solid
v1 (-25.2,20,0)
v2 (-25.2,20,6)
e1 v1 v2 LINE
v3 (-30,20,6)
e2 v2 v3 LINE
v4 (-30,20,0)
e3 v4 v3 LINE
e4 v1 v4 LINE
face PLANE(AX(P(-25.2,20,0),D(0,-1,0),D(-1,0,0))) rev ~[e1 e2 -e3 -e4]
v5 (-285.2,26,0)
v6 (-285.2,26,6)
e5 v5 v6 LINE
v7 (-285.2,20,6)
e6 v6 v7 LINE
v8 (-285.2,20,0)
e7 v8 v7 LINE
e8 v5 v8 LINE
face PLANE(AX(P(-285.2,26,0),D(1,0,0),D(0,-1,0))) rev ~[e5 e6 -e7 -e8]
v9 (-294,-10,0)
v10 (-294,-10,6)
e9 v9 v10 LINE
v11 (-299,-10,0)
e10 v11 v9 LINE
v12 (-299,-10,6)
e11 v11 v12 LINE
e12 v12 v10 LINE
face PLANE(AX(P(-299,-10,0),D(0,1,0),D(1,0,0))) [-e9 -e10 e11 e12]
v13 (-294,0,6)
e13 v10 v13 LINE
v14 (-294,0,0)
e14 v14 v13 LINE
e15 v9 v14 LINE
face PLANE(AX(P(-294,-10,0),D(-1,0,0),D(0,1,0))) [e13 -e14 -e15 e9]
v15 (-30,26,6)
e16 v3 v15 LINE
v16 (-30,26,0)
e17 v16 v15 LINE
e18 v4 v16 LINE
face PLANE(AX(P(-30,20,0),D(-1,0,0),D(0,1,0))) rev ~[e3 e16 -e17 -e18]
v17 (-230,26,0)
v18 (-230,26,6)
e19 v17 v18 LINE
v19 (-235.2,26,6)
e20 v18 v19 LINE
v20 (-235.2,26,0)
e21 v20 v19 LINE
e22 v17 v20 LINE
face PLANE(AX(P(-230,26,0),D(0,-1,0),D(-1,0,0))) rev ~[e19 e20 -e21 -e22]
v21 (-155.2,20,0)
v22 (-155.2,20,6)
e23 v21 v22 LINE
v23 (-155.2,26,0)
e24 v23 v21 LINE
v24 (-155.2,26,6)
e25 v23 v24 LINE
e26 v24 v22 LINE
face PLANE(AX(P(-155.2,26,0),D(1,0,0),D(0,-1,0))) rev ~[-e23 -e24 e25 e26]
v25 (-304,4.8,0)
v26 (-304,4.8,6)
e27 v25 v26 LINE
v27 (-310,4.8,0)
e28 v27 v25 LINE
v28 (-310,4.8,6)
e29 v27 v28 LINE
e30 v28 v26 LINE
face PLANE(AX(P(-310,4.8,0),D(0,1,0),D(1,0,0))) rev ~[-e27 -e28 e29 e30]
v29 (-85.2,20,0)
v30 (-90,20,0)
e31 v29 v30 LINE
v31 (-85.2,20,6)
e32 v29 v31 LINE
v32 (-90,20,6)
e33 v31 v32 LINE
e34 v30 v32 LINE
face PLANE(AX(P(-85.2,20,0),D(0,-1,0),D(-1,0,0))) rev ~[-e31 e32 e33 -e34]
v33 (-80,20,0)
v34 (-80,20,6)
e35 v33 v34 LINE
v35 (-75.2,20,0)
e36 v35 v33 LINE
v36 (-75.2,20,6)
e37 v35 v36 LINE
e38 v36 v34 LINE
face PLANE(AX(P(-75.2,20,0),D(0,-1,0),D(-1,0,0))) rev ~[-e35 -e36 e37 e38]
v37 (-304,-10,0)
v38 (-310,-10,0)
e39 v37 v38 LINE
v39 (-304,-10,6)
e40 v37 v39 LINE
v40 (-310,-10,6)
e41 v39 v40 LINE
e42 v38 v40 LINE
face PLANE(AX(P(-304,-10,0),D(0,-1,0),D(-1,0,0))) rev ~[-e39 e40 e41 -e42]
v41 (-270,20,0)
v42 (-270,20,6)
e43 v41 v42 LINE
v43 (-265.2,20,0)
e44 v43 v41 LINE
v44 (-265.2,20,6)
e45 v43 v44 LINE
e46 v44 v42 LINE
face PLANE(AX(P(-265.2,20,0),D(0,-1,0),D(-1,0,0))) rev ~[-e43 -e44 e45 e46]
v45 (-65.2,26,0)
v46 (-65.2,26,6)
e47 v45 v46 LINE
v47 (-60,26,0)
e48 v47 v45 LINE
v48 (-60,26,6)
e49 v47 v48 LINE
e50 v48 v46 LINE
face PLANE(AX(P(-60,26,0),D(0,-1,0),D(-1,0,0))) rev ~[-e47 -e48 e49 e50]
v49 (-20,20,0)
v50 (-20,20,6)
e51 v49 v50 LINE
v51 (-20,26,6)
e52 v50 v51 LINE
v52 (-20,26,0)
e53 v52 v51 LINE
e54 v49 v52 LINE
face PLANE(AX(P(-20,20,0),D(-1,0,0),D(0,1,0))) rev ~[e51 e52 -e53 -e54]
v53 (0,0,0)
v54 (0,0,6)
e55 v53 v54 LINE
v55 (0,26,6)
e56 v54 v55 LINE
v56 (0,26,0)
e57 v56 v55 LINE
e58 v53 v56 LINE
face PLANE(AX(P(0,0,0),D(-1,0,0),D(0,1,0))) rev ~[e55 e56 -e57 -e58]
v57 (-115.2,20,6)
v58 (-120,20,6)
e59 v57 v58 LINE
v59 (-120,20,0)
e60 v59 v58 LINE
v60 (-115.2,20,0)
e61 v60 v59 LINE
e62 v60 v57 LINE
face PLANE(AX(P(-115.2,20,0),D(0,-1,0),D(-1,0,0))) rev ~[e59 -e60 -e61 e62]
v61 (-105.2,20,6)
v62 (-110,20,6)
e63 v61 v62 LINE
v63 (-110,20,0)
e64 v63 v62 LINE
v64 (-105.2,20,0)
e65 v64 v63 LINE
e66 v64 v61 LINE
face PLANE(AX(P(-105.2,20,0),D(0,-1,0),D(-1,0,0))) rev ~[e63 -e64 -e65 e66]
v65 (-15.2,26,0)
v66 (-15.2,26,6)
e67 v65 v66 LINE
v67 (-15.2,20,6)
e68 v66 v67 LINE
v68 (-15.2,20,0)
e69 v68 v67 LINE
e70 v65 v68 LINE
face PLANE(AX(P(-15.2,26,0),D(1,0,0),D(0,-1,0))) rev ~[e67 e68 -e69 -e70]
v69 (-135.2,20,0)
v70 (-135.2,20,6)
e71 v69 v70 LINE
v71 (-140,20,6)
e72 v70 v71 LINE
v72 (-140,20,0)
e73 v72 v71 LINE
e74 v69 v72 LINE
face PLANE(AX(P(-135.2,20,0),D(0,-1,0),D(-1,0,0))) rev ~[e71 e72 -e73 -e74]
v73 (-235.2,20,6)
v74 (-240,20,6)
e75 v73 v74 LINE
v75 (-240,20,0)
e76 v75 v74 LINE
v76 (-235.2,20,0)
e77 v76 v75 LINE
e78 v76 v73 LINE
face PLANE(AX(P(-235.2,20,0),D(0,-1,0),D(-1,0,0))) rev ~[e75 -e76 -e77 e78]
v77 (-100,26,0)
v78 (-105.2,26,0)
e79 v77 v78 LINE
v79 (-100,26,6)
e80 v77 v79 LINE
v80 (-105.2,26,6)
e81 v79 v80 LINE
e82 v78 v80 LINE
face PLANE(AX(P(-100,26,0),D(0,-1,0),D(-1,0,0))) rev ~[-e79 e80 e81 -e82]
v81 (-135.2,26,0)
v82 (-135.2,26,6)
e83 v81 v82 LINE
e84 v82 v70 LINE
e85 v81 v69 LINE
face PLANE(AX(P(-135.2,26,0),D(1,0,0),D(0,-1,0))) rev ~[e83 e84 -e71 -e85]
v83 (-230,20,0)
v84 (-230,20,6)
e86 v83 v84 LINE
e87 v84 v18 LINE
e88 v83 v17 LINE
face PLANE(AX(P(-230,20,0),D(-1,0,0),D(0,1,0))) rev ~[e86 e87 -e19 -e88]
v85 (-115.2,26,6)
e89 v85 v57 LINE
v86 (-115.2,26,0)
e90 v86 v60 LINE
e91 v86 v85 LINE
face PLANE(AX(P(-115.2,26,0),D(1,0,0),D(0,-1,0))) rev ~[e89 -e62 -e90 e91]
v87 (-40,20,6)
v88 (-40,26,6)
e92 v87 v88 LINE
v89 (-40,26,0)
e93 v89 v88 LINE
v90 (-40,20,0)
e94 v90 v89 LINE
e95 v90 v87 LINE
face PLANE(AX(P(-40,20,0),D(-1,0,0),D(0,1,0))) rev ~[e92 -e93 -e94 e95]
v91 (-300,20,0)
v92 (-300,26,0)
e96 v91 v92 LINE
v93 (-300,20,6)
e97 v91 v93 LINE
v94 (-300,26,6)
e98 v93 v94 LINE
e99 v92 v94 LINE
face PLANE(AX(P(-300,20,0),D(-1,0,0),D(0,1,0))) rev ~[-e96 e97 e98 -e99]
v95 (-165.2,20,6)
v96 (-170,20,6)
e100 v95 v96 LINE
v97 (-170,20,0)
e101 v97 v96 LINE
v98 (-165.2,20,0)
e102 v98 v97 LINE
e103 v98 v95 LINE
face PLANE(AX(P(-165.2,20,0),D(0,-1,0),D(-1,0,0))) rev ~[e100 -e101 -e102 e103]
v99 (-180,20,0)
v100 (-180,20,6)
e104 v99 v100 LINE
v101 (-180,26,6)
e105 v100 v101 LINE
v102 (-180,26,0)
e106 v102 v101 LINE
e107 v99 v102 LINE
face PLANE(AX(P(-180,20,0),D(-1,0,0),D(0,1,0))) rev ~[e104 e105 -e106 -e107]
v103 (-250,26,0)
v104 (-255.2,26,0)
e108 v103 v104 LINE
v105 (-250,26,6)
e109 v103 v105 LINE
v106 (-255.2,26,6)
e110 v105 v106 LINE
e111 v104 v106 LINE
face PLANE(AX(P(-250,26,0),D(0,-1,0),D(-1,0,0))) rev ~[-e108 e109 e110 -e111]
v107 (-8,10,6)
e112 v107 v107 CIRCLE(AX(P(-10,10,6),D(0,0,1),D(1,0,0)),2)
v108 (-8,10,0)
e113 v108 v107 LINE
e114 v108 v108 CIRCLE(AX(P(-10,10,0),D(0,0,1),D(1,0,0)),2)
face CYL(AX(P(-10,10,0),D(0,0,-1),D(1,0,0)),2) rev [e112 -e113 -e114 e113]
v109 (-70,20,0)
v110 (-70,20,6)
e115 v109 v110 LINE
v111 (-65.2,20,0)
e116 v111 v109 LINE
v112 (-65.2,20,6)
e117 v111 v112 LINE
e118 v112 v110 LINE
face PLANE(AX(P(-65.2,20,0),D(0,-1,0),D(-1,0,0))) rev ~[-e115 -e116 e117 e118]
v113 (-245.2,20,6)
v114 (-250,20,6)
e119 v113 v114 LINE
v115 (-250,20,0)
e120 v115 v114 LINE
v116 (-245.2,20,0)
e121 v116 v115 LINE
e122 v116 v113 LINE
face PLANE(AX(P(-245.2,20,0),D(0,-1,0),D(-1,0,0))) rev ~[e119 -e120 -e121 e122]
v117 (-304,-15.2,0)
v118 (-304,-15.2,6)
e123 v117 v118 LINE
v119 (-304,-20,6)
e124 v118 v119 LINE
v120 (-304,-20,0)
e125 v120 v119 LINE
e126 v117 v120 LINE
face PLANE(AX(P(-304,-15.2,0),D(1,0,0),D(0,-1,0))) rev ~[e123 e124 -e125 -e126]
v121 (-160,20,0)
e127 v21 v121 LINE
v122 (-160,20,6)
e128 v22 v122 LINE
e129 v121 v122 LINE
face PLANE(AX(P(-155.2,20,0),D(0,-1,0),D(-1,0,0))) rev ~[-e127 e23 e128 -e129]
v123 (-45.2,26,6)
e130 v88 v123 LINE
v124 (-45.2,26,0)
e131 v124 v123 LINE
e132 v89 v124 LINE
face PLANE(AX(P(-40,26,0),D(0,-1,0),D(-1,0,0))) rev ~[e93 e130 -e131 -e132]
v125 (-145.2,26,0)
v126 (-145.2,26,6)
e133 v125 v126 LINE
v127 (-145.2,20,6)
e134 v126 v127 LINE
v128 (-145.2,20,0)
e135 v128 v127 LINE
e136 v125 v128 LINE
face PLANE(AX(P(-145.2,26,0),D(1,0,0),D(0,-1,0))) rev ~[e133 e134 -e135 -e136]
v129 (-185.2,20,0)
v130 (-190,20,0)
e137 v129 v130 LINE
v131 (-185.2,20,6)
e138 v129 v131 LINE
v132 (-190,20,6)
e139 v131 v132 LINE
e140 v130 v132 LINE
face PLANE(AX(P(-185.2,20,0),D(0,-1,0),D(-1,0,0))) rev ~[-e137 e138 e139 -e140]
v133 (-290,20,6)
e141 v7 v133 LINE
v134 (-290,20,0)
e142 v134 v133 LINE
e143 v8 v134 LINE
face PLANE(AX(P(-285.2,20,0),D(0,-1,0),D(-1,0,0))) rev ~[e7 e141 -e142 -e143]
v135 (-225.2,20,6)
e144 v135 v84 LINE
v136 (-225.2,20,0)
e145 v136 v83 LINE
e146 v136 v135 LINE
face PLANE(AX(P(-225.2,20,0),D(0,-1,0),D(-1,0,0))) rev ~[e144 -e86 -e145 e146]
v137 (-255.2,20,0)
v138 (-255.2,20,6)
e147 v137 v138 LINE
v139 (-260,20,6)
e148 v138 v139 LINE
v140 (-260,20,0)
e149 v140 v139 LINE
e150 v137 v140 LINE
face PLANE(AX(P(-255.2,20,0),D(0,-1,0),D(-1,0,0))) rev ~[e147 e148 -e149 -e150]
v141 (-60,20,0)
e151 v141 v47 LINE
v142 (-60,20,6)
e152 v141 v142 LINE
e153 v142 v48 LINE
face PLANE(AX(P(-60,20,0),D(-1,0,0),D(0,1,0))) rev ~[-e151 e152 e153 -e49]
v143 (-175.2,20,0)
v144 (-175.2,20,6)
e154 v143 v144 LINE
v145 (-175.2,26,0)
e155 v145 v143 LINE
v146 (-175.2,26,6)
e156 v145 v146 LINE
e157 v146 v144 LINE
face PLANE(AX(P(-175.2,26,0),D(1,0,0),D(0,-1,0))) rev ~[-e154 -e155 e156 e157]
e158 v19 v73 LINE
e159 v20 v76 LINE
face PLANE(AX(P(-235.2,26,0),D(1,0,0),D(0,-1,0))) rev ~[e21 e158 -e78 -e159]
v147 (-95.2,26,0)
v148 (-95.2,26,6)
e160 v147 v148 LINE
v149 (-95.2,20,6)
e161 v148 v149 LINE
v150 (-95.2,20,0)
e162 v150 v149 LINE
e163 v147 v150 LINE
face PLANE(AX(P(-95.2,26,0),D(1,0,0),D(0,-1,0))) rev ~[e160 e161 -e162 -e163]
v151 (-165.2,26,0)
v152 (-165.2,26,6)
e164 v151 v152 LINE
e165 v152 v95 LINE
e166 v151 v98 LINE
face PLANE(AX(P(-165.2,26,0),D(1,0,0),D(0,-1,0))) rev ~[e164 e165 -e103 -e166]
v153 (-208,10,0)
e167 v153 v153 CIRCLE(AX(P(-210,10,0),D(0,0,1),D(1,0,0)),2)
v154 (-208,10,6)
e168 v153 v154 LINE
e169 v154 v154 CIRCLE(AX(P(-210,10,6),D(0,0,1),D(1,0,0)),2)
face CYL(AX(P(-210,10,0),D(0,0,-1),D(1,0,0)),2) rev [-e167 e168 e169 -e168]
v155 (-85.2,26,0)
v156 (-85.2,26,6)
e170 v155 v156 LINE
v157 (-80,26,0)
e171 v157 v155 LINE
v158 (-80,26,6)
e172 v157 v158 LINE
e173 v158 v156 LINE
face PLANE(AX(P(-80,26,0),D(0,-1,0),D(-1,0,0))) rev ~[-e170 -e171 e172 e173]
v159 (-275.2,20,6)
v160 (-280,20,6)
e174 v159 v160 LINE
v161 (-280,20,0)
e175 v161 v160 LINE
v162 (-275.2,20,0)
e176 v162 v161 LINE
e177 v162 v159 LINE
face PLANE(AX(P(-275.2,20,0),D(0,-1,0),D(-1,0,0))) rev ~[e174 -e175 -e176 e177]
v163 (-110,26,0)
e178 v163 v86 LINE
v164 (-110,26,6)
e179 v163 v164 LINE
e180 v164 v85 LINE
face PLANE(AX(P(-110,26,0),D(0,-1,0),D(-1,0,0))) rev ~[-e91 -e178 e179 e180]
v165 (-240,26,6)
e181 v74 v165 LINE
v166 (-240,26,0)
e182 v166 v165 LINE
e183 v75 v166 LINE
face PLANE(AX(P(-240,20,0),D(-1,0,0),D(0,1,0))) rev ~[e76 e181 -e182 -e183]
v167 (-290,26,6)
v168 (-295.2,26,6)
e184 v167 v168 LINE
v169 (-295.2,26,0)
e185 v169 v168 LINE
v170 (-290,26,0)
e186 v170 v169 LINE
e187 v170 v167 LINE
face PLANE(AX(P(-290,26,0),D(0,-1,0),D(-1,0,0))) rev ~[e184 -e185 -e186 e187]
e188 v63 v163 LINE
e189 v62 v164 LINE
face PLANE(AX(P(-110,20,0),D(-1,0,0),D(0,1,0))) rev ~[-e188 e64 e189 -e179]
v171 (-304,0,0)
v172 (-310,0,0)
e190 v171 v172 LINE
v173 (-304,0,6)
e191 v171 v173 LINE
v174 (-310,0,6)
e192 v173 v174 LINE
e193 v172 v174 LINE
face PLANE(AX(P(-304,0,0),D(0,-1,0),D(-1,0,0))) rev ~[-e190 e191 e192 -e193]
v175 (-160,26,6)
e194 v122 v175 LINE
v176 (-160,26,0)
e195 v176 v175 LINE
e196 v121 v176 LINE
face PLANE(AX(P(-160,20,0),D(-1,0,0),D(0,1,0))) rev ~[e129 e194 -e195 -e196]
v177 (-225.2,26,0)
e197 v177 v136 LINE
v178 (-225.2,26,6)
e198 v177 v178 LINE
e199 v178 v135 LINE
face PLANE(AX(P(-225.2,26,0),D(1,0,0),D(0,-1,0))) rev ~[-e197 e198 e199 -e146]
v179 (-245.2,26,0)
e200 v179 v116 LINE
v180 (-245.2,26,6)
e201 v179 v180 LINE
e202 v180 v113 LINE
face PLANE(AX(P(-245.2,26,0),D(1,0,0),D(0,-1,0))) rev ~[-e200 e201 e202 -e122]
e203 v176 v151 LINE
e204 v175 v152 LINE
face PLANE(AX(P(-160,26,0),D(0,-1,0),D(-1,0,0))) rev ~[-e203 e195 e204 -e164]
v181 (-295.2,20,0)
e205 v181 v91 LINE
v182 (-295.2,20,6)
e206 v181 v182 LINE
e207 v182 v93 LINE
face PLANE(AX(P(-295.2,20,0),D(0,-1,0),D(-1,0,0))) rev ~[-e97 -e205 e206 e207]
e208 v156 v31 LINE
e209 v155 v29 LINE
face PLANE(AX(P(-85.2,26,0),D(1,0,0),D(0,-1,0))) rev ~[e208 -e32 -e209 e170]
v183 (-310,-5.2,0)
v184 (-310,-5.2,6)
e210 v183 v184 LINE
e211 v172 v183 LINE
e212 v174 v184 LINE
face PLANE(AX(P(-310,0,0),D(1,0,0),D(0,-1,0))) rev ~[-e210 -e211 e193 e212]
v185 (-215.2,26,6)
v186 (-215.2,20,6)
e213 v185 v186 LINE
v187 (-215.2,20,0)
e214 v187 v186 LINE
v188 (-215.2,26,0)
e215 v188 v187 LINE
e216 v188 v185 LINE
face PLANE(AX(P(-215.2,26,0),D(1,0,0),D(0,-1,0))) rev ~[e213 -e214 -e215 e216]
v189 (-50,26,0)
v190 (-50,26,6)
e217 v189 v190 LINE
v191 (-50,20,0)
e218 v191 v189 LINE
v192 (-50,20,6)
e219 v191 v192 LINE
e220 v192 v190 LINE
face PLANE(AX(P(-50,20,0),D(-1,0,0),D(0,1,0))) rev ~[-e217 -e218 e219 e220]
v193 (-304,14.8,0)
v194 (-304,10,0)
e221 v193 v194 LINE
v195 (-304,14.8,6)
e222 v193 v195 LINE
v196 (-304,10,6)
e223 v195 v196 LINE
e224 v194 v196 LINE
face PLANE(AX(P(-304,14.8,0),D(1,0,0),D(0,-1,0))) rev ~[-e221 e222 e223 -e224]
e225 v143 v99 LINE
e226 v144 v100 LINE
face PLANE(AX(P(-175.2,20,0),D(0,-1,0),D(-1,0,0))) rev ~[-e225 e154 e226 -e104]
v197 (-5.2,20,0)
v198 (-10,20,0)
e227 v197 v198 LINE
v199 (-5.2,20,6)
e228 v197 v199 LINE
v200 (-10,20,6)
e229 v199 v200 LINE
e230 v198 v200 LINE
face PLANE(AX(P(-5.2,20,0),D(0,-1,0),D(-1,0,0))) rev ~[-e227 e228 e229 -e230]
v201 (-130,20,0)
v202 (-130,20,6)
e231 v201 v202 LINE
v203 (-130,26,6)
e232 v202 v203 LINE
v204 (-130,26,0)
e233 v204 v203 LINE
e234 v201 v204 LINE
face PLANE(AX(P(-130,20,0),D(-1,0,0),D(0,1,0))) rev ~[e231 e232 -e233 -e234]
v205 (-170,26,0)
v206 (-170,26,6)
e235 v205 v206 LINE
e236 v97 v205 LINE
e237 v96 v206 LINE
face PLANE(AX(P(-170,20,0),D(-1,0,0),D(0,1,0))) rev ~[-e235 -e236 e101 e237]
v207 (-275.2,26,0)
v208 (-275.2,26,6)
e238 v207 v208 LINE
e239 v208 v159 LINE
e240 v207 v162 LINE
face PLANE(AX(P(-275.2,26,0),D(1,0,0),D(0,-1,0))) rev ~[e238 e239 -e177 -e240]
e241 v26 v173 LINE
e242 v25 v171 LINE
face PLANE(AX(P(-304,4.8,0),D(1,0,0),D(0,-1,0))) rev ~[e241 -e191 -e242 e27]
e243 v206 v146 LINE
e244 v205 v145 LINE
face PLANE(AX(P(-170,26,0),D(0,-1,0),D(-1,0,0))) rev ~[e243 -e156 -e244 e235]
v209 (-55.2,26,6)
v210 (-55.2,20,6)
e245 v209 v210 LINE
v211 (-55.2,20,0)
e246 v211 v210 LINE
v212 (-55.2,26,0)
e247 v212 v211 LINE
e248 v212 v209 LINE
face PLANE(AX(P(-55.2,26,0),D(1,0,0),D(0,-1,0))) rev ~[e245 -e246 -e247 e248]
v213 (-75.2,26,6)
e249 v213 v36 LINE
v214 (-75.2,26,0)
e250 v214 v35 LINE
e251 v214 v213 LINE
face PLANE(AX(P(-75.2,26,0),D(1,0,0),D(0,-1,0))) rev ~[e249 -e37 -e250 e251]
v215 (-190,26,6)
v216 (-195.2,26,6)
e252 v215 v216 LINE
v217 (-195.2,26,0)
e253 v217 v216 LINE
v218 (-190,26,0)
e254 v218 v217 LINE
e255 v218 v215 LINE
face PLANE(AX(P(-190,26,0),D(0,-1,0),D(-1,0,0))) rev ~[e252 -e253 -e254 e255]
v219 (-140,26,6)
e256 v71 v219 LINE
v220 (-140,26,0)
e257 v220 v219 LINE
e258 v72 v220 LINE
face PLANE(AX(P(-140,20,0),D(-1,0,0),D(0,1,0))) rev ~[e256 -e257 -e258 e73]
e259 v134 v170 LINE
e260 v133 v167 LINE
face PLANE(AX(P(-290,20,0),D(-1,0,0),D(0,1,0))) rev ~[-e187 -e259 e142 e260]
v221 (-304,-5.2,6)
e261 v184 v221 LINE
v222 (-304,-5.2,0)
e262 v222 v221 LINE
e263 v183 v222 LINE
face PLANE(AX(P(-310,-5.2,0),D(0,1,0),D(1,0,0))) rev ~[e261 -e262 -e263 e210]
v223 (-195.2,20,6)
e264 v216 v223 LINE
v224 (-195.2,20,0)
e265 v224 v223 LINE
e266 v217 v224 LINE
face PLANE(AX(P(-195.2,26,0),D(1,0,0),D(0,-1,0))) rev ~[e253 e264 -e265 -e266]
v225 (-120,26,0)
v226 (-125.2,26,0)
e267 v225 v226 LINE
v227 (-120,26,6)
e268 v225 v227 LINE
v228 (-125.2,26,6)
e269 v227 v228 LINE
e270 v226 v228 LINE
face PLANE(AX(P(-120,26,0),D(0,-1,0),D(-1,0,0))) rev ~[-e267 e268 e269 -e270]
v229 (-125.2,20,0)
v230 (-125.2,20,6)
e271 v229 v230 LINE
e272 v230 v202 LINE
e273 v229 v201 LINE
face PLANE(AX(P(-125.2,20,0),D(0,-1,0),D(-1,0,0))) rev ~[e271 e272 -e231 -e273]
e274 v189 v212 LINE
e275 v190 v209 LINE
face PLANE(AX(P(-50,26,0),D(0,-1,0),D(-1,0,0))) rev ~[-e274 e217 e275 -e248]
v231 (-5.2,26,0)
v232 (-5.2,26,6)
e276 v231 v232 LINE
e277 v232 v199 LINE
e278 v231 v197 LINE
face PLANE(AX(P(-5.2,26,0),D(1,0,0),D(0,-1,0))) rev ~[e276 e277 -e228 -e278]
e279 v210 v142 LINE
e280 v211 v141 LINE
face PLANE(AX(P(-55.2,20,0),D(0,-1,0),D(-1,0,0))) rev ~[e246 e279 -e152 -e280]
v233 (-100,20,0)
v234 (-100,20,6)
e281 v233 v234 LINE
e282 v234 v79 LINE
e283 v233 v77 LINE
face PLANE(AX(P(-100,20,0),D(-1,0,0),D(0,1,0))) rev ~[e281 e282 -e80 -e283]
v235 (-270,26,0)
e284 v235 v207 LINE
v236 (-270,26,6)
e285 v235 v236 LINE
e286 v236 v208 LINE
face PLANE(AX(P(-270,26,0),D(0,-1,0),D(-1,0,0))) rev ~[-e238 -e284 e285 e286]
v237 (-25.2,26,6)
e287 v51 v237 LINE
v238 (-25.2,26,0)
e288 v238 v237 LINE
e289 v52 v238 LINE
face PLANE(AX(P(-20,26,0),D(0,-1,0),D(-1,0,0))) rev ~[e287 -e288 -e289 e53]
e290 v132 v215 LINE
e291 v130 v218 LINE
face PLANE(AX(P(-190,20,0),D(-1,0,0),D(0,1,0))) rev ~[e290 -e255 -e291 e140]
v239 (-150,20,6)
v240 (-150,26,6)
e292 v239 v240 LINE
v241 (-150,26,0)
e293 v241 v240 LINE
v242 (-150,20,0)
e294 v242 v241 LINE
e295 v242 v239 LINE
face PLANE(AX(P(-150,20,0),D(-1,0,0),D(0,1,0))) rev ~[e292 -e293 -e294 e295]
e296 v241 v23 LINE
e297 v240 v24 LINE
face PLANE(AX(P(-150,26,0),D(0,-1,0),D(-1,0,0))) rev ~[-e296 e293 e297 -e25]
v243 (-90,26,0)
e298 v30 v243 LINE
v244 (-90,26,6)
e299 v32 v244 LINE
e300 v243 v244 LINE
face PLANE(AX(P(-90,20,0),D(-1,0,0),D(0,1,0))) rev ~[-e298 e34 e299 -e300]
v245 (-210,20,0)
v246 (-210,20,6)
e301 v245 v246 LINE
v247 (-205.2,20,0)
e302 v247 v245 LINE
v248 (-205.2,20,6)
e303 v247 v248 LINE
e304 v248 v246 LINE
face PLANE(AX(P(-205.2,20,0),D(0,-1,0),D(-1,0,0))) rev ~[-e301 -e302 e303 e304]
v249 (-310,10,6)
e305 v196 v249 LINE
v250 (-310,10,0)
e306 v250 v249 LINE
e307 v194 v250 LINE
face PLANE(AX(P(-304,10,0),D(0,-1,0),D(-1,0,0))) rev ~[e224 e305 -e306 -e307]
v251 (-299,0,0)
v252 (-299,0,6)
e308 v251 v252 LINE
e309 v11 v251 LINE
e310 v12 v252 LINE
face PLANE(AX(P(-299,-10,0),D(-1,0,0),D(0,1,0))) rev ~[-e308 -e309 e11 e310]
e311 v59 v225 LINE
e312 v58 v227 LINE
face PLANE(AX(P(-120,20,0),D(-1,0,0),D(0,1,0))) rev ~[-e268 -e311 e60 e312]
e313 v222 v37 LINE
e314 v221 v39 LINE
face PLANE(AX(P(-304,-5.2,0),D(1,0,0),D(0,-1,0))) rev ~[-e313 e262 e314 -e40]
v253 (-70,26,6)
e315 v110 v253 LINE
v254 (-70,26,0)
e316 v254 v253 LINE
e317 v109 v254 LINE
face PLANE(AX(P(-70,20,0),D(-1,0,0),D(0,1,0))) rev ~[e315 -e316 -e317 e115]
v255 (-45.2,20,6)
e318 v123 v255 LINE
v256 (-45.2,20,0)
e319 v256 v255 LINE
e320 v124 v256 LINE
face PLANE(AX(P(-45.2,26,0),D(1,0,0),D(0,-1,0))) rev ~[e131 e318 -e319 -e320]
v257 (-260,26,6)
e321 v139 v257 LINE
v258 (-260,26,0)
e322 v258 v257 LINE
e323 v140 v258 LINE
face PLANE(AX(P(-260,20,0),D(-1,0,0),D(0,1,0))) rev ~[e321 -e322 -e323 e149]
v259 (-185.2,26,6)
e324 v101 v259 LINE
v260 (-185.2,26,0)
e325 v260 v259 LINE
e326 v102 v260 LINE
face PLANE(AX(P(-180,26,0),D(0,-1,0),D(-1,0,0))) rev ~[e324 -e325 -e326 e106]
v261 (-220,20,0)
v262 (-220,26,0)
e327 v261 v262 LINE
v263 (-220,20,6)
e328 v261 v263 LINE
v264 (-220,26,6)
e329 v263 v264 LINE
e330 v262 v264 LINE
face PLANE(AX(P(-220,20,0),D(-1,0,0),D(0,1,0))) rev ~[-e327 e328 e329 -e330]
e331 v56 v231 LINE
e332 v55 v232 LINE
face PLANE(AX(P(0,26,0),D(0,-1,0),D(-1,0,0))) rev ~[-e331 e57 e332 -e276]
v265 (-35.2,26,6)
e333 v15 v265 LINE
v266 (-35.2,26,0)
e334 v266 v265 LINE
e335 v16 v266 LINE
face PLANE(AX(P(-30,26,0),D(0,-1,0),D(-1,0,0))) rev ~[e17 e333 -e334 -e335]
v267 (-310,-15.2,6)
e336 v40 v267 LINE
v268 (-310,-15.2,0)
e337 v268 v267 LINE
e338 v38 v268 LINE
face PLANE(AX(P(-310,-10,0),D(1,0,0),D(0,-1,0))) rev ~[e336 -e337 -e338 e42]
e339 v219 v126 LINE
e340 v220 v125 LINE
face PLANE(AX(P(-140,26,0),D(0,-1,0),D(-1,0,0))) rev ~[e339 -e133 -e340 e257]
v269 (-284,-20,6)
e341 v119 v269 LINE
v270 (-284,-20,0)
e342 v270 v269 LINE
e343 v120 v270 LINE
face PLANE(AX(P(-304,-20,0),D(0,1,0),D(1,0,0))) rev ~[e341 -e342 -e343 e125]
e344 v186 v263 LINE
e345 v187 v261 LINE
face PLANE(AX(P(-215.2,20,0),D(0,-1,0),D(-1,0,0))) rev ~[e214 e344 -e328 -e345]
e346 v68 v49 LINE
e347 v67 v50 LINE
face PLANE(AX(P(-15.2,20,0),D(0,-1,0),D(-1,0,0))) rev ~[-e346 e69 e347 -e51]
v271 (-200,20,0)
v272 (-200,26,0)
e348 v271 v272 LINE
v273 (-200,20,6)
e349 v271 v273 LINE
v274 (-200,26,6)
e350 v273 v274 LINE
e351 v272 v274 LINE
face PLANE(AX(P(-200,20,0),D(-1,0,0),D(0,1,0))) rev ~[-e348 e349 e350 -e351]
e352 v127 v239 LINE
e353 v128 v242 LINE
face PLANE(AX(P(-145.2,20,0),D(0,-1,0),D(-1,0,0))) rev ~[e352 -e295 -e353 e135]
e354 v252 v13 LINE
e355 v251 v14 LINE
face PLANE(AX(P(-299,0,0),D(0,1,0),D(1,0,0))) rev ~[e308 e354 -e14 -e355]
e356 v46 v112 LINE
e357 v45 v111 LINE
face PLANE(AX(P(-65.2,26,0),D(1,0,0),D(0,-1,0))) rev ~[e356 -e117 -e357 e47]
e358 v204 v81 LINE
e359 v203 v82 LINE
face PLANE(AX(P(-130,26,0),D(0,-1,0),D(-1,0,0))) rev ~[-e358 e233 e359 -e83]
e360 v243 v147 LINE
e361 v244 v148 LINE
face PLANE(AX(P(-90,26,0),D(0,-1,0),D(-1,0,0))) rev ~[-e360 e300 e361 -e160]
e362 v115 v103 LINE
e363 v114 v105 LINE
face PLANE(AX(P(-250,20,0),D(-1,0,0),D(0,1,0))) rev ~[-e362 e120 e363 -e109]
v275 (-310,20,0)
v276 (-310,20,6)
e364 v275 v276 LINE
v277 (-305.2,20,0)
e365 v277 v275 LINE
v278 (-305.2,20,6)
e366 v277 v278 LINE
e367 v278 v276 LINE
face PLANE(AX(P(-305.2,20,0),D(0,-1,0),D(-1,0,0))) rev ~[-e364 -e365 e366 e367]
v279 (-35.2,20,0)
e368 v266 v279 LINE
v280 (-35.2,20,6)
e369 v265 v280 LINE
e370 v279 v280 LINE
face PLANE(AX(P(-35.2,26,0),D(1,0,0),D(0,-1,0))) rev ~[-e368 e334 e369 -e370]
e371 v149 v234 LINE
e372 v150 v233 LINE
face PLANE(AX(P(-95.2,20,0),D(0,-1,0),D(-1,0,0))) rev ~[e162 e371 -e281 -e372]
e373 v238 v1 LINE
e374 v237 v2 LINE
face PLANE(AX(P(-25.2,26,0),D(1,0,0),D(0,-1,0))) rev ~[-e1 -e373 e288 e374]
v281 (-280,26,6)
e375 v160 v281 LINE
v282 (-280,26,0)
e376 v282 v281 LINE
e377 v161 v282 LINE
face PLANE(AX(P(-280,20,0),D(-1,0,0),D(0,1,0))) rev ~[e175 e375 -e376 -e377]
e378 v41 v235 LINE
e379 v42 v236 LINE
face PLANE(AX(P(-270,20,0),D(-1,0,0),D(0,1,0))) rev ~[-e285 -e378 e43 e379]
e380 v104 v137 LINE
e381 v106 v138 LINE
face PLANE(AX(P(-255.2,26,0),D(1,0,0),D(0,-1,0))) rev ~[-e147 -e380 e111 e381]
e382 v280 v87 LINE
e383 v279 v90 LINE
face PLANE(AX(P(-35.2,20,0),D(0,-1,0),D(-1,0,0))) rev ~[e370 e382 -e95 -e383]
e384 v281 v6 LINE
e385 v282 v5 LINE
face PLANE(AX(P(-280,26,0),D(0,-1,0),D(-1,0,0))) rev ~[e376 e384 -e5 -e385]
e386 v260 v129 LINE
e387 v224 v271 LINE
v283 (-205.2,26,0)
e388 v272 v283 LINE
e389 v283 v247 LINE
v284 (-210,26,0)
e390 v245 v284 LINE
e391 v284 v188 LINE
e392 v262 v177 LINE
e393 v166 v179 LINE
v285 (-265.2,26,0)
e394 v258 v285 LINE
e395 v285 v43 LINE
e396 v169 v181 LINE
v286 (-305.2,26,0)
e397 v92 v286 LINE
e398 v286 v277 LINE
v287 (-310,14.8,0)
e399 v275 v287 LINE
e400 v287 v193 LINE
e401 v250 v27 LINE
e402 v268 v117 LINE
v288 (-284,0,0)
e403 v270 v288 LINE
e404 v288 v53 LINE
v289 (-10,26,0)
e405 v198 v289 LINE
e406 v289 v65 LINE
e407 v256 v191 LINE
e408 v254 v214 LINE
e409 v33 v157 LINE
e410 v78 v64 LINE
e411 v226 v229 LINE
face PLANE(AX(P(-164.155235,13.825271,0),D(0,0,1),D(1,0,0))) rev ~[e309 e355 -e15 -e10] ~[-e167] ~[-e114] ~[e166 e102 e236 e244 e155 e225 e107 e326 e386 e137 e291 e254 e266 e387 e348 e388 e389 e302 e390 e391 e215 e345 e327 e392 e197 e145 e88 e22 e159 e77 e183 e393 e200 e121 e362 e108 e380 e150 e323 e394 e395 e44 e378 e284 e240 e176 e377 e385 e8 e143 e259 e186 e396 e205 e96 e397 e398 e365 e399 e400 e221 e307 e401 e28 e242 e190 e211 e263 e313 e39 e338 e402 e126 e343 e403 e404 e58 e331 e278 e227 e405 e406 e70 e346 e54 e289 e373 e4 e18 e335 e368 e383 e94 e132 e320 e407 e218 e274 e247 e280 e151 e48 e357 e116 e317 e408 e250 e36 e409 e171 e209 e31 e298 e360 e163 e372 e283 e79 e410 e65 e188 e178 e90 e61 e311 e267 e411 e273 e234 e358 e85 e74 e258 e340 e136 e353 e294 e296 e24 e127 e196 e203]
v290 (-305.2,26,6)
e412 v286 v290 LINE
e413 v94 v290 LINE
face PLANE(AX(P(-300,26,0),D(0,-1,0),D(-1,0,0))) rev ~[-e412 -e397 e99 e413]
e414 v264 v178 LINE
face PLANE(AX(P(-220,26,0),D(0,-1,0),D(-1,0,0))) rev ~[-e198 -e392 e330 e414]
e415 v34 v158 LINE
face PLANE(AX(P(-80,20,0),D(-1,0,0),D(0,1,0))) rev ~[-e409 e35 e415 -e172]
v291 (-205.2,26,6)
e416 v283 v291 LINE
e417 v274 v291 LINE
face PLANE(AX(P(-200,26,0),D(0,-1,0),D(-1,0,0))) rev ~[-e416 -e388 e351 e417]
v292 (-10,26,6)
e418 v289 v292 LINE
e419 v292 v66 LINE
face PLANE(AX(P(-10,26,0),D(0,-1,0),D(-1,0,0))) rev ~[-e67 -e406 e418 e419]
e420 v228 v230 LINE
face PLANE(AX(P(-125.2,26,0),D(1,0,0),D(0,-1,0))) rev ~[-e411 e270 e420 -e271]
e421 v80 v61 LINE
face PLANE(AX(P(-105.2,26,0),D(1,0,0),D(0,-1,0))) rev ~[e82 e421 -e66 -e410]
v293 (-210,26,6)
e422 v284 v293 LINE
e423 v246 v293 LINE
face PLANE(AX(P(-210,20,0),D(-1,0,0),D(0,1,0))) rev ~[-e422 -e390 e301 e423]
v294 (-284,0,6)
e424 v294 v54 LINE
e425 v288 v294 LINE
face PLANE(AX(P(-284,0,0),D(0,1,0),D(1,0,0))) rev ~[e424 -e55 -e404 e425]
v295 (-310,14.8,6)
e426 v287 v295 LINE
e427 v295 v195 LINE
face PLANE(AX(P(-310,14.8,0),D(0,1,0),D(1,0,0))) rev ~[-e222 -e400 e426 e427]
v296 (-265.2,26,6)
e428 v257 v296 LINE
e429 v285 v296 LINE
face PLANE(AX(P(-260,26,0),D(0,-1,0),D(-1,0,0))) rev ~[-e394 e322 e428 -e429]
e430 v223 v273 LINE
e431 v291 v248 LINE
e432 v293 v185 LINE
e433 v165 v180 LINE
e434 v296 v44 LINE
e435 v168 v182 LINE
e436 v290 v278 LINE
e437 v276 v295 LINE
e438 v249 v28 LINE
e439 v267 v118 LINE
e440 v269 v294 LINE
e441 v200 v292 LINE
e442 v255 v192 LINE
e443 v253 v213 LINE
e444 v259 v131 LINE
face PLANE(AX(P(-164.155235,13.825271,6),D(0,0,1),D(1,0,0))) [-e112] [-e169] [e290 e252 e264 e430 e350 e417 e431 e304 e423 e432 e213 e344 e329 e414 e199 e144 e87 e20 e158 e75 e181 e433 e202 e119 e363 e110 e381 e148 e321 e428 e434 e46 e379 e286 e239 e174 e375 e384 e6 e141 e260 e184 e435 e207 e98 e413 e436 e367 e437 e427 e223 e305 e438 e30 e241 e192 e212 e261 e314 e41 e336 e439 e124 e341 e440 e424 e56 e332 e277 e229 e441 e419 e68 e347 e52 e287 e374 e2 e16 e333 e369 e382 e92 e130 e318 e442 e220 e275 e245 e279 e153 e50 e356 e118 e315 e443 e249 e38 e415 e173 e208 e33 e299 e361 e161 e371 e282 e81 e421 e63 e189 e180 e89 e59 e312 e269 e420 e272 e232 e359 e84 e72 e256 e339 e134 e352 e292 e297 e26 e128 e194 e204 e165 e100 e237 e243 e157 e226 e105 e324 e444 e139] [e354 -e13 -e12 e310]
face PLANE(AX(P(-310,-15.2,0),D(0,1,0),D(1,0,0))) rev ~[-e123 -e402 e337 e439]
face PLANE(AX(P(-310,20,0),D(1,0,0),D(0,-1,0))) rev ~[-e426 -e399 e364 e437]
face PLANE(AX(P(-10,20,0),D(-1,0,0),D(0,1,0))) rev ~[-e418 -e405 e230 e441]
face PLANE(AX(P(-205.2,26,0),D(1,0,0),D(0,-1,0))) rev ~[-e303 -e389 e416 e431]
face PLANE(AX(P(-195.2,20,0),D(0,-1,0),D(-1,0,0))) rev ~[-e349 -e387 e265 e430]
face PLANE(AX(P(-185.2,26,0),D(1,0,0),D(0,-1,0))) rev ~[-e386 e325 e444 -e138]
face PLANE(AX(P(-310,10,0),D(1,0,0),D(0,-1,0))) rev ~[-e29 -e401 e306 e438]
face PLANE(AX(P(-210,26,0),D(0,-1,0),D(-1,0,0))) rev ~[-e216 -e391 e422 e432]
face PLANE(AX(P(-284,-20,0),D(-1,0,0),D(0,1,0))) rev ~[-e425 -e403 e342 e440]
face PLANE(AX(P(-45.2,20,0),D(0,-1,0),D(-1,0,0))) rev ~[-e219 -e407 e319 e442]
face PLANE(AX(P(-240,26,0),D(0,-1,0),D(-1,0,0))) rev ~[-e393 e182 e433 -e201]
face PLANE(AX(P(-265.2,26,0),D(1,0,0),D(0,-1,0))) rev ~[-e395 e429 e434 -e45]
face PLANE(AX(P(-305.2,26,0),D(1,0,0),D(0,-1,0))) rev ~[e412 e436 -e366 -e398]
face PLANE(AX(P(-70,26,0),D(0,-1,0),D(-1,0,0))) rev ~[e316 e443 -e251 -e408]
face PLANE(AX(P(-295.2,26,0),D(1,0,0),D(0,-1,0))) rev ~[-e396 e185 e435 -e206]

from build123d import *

# Parameters (mm, degrees)
ESQUISSE1_R        = 2
ESQUISSE1_W        = 5
ESQUISSE1_H        = 10
BOSS_EXTRU_1_DEPTH = 6


with BuildPart() as part:
    # Esquisse1 → Boss.-Extru.1 (new body)
    with BuildSketch(Plane.XY):
        Polygon((0, 0), (0, 26), (-5.2, 26), (-5.2, 20), (-10, 20), (-10, 26), (-15.2, 26), (-15.2, 20), (-20, 20), (-20, 26), (-25.2, 26), (-25.2, 20), (-30, 20), (-30, 26), (-35.2, 26), (-35.2, 20), (-40, 20), (-40, 26), (-45.2, 26), (-45.2, 20), (-50, 20), (-50, 26), (-55.2, 26), (-55.2, 20), (-60, 20), (-60, 26), (-65.2, 26), (-65.2, 20), (-70, 20), (-70, 26), (-75.2, 26), (-75.2, 20), (-80, 20), (-80, 26), (-85.2, 26), (-85.2, 20), (-90, 20), (-90, 26), (-95.2, 26), (-95.2, 20), (-100, 20), (-100, 26), (-105.2, 26), (-105.2, 20), (-110, 20), (-110, 26), (-115.2, 26), (-115.2, 20), (-120, 20), (-120, 26), (-125.2, 26), (-125.2, 20), (-130, 20), (-130, 26), (-135.2, 26), (-135.2, 20), (-140, 20), (-140, 26), (-145.2, 26), (-145.2, 20), (-150, 20), (-150, 26), (-155.2, 26), (-155.2, 20), (-160, 20), (-160, 26), (-165.2, 26), (-165.2, 20), (-170, 20), (-170, 26), (-175.2, 26), (-175.2, 20), (-180, 20), (-180, 26), (-185.2, 26), (-185.2, 20), (-190, 20), (-190, 26), (-195.2, 26), (-195.2, 20), (-200, 20), (-200, 26), (-205.2, 26), (-205.2, 20), (-210, 20), (-210, 26), (-215.2, 26), (-215.2, 20), (-220, 20), (-220, 26), (-225.2, 26), (-225.2, 20), (-230, 20), (-230, 26), (-235.2, 26), (-235.2, 20), (-240, 20), (-240, 26), (-245.2, 26), (-245.2, 20), (-250, 20), (-250, 26), (-255.2, 26), (-255.2, 20), (-260, 20), (-260, 26), (-265.2, 26), (-265.2, 20), (-270, 20), (-270, 26), (-275.2, 26), (-275.2, 20), (-280, 20), (-280, 26), (-285.2, 26), (-285.2, 20), (-290, 20), (-290, 26), (-295.2, 26), (-295.2, 20), (-300, 20), (-300, 26), (-305.2, 26), (-305.2, 20), (-310, 20), (-310, 14.8), (-304, 14.8), (-304, 10), (-310, 10), (-310, 4.8), (-304, 4.8), (-304, 0), (-310, 0), (-310, -5.2), (-304, -5.2), (-304, -10), (-310, -10), (-310, -15.2), (-304, -15.2), (-304, -20), (-284, -20), (-284, 0), align=None)
        with Locations((-210, 10)):
            Circle(ESQUISSE1_R, mode=Mode.SUBTRACT)
        with Locations((-10, 10)):
            Circle(ESQUISSE1_R, mode=Mode.SUBTRACT)
        with Locations((-296.5, -5)):
            Rectangle(ESQUISSE1_W, ESQUISSE1_H, mode=Mode.SUBTRACT)
    extrude(amount=BOSS_EXTRU_1_DEPTH)


solid = part.part
